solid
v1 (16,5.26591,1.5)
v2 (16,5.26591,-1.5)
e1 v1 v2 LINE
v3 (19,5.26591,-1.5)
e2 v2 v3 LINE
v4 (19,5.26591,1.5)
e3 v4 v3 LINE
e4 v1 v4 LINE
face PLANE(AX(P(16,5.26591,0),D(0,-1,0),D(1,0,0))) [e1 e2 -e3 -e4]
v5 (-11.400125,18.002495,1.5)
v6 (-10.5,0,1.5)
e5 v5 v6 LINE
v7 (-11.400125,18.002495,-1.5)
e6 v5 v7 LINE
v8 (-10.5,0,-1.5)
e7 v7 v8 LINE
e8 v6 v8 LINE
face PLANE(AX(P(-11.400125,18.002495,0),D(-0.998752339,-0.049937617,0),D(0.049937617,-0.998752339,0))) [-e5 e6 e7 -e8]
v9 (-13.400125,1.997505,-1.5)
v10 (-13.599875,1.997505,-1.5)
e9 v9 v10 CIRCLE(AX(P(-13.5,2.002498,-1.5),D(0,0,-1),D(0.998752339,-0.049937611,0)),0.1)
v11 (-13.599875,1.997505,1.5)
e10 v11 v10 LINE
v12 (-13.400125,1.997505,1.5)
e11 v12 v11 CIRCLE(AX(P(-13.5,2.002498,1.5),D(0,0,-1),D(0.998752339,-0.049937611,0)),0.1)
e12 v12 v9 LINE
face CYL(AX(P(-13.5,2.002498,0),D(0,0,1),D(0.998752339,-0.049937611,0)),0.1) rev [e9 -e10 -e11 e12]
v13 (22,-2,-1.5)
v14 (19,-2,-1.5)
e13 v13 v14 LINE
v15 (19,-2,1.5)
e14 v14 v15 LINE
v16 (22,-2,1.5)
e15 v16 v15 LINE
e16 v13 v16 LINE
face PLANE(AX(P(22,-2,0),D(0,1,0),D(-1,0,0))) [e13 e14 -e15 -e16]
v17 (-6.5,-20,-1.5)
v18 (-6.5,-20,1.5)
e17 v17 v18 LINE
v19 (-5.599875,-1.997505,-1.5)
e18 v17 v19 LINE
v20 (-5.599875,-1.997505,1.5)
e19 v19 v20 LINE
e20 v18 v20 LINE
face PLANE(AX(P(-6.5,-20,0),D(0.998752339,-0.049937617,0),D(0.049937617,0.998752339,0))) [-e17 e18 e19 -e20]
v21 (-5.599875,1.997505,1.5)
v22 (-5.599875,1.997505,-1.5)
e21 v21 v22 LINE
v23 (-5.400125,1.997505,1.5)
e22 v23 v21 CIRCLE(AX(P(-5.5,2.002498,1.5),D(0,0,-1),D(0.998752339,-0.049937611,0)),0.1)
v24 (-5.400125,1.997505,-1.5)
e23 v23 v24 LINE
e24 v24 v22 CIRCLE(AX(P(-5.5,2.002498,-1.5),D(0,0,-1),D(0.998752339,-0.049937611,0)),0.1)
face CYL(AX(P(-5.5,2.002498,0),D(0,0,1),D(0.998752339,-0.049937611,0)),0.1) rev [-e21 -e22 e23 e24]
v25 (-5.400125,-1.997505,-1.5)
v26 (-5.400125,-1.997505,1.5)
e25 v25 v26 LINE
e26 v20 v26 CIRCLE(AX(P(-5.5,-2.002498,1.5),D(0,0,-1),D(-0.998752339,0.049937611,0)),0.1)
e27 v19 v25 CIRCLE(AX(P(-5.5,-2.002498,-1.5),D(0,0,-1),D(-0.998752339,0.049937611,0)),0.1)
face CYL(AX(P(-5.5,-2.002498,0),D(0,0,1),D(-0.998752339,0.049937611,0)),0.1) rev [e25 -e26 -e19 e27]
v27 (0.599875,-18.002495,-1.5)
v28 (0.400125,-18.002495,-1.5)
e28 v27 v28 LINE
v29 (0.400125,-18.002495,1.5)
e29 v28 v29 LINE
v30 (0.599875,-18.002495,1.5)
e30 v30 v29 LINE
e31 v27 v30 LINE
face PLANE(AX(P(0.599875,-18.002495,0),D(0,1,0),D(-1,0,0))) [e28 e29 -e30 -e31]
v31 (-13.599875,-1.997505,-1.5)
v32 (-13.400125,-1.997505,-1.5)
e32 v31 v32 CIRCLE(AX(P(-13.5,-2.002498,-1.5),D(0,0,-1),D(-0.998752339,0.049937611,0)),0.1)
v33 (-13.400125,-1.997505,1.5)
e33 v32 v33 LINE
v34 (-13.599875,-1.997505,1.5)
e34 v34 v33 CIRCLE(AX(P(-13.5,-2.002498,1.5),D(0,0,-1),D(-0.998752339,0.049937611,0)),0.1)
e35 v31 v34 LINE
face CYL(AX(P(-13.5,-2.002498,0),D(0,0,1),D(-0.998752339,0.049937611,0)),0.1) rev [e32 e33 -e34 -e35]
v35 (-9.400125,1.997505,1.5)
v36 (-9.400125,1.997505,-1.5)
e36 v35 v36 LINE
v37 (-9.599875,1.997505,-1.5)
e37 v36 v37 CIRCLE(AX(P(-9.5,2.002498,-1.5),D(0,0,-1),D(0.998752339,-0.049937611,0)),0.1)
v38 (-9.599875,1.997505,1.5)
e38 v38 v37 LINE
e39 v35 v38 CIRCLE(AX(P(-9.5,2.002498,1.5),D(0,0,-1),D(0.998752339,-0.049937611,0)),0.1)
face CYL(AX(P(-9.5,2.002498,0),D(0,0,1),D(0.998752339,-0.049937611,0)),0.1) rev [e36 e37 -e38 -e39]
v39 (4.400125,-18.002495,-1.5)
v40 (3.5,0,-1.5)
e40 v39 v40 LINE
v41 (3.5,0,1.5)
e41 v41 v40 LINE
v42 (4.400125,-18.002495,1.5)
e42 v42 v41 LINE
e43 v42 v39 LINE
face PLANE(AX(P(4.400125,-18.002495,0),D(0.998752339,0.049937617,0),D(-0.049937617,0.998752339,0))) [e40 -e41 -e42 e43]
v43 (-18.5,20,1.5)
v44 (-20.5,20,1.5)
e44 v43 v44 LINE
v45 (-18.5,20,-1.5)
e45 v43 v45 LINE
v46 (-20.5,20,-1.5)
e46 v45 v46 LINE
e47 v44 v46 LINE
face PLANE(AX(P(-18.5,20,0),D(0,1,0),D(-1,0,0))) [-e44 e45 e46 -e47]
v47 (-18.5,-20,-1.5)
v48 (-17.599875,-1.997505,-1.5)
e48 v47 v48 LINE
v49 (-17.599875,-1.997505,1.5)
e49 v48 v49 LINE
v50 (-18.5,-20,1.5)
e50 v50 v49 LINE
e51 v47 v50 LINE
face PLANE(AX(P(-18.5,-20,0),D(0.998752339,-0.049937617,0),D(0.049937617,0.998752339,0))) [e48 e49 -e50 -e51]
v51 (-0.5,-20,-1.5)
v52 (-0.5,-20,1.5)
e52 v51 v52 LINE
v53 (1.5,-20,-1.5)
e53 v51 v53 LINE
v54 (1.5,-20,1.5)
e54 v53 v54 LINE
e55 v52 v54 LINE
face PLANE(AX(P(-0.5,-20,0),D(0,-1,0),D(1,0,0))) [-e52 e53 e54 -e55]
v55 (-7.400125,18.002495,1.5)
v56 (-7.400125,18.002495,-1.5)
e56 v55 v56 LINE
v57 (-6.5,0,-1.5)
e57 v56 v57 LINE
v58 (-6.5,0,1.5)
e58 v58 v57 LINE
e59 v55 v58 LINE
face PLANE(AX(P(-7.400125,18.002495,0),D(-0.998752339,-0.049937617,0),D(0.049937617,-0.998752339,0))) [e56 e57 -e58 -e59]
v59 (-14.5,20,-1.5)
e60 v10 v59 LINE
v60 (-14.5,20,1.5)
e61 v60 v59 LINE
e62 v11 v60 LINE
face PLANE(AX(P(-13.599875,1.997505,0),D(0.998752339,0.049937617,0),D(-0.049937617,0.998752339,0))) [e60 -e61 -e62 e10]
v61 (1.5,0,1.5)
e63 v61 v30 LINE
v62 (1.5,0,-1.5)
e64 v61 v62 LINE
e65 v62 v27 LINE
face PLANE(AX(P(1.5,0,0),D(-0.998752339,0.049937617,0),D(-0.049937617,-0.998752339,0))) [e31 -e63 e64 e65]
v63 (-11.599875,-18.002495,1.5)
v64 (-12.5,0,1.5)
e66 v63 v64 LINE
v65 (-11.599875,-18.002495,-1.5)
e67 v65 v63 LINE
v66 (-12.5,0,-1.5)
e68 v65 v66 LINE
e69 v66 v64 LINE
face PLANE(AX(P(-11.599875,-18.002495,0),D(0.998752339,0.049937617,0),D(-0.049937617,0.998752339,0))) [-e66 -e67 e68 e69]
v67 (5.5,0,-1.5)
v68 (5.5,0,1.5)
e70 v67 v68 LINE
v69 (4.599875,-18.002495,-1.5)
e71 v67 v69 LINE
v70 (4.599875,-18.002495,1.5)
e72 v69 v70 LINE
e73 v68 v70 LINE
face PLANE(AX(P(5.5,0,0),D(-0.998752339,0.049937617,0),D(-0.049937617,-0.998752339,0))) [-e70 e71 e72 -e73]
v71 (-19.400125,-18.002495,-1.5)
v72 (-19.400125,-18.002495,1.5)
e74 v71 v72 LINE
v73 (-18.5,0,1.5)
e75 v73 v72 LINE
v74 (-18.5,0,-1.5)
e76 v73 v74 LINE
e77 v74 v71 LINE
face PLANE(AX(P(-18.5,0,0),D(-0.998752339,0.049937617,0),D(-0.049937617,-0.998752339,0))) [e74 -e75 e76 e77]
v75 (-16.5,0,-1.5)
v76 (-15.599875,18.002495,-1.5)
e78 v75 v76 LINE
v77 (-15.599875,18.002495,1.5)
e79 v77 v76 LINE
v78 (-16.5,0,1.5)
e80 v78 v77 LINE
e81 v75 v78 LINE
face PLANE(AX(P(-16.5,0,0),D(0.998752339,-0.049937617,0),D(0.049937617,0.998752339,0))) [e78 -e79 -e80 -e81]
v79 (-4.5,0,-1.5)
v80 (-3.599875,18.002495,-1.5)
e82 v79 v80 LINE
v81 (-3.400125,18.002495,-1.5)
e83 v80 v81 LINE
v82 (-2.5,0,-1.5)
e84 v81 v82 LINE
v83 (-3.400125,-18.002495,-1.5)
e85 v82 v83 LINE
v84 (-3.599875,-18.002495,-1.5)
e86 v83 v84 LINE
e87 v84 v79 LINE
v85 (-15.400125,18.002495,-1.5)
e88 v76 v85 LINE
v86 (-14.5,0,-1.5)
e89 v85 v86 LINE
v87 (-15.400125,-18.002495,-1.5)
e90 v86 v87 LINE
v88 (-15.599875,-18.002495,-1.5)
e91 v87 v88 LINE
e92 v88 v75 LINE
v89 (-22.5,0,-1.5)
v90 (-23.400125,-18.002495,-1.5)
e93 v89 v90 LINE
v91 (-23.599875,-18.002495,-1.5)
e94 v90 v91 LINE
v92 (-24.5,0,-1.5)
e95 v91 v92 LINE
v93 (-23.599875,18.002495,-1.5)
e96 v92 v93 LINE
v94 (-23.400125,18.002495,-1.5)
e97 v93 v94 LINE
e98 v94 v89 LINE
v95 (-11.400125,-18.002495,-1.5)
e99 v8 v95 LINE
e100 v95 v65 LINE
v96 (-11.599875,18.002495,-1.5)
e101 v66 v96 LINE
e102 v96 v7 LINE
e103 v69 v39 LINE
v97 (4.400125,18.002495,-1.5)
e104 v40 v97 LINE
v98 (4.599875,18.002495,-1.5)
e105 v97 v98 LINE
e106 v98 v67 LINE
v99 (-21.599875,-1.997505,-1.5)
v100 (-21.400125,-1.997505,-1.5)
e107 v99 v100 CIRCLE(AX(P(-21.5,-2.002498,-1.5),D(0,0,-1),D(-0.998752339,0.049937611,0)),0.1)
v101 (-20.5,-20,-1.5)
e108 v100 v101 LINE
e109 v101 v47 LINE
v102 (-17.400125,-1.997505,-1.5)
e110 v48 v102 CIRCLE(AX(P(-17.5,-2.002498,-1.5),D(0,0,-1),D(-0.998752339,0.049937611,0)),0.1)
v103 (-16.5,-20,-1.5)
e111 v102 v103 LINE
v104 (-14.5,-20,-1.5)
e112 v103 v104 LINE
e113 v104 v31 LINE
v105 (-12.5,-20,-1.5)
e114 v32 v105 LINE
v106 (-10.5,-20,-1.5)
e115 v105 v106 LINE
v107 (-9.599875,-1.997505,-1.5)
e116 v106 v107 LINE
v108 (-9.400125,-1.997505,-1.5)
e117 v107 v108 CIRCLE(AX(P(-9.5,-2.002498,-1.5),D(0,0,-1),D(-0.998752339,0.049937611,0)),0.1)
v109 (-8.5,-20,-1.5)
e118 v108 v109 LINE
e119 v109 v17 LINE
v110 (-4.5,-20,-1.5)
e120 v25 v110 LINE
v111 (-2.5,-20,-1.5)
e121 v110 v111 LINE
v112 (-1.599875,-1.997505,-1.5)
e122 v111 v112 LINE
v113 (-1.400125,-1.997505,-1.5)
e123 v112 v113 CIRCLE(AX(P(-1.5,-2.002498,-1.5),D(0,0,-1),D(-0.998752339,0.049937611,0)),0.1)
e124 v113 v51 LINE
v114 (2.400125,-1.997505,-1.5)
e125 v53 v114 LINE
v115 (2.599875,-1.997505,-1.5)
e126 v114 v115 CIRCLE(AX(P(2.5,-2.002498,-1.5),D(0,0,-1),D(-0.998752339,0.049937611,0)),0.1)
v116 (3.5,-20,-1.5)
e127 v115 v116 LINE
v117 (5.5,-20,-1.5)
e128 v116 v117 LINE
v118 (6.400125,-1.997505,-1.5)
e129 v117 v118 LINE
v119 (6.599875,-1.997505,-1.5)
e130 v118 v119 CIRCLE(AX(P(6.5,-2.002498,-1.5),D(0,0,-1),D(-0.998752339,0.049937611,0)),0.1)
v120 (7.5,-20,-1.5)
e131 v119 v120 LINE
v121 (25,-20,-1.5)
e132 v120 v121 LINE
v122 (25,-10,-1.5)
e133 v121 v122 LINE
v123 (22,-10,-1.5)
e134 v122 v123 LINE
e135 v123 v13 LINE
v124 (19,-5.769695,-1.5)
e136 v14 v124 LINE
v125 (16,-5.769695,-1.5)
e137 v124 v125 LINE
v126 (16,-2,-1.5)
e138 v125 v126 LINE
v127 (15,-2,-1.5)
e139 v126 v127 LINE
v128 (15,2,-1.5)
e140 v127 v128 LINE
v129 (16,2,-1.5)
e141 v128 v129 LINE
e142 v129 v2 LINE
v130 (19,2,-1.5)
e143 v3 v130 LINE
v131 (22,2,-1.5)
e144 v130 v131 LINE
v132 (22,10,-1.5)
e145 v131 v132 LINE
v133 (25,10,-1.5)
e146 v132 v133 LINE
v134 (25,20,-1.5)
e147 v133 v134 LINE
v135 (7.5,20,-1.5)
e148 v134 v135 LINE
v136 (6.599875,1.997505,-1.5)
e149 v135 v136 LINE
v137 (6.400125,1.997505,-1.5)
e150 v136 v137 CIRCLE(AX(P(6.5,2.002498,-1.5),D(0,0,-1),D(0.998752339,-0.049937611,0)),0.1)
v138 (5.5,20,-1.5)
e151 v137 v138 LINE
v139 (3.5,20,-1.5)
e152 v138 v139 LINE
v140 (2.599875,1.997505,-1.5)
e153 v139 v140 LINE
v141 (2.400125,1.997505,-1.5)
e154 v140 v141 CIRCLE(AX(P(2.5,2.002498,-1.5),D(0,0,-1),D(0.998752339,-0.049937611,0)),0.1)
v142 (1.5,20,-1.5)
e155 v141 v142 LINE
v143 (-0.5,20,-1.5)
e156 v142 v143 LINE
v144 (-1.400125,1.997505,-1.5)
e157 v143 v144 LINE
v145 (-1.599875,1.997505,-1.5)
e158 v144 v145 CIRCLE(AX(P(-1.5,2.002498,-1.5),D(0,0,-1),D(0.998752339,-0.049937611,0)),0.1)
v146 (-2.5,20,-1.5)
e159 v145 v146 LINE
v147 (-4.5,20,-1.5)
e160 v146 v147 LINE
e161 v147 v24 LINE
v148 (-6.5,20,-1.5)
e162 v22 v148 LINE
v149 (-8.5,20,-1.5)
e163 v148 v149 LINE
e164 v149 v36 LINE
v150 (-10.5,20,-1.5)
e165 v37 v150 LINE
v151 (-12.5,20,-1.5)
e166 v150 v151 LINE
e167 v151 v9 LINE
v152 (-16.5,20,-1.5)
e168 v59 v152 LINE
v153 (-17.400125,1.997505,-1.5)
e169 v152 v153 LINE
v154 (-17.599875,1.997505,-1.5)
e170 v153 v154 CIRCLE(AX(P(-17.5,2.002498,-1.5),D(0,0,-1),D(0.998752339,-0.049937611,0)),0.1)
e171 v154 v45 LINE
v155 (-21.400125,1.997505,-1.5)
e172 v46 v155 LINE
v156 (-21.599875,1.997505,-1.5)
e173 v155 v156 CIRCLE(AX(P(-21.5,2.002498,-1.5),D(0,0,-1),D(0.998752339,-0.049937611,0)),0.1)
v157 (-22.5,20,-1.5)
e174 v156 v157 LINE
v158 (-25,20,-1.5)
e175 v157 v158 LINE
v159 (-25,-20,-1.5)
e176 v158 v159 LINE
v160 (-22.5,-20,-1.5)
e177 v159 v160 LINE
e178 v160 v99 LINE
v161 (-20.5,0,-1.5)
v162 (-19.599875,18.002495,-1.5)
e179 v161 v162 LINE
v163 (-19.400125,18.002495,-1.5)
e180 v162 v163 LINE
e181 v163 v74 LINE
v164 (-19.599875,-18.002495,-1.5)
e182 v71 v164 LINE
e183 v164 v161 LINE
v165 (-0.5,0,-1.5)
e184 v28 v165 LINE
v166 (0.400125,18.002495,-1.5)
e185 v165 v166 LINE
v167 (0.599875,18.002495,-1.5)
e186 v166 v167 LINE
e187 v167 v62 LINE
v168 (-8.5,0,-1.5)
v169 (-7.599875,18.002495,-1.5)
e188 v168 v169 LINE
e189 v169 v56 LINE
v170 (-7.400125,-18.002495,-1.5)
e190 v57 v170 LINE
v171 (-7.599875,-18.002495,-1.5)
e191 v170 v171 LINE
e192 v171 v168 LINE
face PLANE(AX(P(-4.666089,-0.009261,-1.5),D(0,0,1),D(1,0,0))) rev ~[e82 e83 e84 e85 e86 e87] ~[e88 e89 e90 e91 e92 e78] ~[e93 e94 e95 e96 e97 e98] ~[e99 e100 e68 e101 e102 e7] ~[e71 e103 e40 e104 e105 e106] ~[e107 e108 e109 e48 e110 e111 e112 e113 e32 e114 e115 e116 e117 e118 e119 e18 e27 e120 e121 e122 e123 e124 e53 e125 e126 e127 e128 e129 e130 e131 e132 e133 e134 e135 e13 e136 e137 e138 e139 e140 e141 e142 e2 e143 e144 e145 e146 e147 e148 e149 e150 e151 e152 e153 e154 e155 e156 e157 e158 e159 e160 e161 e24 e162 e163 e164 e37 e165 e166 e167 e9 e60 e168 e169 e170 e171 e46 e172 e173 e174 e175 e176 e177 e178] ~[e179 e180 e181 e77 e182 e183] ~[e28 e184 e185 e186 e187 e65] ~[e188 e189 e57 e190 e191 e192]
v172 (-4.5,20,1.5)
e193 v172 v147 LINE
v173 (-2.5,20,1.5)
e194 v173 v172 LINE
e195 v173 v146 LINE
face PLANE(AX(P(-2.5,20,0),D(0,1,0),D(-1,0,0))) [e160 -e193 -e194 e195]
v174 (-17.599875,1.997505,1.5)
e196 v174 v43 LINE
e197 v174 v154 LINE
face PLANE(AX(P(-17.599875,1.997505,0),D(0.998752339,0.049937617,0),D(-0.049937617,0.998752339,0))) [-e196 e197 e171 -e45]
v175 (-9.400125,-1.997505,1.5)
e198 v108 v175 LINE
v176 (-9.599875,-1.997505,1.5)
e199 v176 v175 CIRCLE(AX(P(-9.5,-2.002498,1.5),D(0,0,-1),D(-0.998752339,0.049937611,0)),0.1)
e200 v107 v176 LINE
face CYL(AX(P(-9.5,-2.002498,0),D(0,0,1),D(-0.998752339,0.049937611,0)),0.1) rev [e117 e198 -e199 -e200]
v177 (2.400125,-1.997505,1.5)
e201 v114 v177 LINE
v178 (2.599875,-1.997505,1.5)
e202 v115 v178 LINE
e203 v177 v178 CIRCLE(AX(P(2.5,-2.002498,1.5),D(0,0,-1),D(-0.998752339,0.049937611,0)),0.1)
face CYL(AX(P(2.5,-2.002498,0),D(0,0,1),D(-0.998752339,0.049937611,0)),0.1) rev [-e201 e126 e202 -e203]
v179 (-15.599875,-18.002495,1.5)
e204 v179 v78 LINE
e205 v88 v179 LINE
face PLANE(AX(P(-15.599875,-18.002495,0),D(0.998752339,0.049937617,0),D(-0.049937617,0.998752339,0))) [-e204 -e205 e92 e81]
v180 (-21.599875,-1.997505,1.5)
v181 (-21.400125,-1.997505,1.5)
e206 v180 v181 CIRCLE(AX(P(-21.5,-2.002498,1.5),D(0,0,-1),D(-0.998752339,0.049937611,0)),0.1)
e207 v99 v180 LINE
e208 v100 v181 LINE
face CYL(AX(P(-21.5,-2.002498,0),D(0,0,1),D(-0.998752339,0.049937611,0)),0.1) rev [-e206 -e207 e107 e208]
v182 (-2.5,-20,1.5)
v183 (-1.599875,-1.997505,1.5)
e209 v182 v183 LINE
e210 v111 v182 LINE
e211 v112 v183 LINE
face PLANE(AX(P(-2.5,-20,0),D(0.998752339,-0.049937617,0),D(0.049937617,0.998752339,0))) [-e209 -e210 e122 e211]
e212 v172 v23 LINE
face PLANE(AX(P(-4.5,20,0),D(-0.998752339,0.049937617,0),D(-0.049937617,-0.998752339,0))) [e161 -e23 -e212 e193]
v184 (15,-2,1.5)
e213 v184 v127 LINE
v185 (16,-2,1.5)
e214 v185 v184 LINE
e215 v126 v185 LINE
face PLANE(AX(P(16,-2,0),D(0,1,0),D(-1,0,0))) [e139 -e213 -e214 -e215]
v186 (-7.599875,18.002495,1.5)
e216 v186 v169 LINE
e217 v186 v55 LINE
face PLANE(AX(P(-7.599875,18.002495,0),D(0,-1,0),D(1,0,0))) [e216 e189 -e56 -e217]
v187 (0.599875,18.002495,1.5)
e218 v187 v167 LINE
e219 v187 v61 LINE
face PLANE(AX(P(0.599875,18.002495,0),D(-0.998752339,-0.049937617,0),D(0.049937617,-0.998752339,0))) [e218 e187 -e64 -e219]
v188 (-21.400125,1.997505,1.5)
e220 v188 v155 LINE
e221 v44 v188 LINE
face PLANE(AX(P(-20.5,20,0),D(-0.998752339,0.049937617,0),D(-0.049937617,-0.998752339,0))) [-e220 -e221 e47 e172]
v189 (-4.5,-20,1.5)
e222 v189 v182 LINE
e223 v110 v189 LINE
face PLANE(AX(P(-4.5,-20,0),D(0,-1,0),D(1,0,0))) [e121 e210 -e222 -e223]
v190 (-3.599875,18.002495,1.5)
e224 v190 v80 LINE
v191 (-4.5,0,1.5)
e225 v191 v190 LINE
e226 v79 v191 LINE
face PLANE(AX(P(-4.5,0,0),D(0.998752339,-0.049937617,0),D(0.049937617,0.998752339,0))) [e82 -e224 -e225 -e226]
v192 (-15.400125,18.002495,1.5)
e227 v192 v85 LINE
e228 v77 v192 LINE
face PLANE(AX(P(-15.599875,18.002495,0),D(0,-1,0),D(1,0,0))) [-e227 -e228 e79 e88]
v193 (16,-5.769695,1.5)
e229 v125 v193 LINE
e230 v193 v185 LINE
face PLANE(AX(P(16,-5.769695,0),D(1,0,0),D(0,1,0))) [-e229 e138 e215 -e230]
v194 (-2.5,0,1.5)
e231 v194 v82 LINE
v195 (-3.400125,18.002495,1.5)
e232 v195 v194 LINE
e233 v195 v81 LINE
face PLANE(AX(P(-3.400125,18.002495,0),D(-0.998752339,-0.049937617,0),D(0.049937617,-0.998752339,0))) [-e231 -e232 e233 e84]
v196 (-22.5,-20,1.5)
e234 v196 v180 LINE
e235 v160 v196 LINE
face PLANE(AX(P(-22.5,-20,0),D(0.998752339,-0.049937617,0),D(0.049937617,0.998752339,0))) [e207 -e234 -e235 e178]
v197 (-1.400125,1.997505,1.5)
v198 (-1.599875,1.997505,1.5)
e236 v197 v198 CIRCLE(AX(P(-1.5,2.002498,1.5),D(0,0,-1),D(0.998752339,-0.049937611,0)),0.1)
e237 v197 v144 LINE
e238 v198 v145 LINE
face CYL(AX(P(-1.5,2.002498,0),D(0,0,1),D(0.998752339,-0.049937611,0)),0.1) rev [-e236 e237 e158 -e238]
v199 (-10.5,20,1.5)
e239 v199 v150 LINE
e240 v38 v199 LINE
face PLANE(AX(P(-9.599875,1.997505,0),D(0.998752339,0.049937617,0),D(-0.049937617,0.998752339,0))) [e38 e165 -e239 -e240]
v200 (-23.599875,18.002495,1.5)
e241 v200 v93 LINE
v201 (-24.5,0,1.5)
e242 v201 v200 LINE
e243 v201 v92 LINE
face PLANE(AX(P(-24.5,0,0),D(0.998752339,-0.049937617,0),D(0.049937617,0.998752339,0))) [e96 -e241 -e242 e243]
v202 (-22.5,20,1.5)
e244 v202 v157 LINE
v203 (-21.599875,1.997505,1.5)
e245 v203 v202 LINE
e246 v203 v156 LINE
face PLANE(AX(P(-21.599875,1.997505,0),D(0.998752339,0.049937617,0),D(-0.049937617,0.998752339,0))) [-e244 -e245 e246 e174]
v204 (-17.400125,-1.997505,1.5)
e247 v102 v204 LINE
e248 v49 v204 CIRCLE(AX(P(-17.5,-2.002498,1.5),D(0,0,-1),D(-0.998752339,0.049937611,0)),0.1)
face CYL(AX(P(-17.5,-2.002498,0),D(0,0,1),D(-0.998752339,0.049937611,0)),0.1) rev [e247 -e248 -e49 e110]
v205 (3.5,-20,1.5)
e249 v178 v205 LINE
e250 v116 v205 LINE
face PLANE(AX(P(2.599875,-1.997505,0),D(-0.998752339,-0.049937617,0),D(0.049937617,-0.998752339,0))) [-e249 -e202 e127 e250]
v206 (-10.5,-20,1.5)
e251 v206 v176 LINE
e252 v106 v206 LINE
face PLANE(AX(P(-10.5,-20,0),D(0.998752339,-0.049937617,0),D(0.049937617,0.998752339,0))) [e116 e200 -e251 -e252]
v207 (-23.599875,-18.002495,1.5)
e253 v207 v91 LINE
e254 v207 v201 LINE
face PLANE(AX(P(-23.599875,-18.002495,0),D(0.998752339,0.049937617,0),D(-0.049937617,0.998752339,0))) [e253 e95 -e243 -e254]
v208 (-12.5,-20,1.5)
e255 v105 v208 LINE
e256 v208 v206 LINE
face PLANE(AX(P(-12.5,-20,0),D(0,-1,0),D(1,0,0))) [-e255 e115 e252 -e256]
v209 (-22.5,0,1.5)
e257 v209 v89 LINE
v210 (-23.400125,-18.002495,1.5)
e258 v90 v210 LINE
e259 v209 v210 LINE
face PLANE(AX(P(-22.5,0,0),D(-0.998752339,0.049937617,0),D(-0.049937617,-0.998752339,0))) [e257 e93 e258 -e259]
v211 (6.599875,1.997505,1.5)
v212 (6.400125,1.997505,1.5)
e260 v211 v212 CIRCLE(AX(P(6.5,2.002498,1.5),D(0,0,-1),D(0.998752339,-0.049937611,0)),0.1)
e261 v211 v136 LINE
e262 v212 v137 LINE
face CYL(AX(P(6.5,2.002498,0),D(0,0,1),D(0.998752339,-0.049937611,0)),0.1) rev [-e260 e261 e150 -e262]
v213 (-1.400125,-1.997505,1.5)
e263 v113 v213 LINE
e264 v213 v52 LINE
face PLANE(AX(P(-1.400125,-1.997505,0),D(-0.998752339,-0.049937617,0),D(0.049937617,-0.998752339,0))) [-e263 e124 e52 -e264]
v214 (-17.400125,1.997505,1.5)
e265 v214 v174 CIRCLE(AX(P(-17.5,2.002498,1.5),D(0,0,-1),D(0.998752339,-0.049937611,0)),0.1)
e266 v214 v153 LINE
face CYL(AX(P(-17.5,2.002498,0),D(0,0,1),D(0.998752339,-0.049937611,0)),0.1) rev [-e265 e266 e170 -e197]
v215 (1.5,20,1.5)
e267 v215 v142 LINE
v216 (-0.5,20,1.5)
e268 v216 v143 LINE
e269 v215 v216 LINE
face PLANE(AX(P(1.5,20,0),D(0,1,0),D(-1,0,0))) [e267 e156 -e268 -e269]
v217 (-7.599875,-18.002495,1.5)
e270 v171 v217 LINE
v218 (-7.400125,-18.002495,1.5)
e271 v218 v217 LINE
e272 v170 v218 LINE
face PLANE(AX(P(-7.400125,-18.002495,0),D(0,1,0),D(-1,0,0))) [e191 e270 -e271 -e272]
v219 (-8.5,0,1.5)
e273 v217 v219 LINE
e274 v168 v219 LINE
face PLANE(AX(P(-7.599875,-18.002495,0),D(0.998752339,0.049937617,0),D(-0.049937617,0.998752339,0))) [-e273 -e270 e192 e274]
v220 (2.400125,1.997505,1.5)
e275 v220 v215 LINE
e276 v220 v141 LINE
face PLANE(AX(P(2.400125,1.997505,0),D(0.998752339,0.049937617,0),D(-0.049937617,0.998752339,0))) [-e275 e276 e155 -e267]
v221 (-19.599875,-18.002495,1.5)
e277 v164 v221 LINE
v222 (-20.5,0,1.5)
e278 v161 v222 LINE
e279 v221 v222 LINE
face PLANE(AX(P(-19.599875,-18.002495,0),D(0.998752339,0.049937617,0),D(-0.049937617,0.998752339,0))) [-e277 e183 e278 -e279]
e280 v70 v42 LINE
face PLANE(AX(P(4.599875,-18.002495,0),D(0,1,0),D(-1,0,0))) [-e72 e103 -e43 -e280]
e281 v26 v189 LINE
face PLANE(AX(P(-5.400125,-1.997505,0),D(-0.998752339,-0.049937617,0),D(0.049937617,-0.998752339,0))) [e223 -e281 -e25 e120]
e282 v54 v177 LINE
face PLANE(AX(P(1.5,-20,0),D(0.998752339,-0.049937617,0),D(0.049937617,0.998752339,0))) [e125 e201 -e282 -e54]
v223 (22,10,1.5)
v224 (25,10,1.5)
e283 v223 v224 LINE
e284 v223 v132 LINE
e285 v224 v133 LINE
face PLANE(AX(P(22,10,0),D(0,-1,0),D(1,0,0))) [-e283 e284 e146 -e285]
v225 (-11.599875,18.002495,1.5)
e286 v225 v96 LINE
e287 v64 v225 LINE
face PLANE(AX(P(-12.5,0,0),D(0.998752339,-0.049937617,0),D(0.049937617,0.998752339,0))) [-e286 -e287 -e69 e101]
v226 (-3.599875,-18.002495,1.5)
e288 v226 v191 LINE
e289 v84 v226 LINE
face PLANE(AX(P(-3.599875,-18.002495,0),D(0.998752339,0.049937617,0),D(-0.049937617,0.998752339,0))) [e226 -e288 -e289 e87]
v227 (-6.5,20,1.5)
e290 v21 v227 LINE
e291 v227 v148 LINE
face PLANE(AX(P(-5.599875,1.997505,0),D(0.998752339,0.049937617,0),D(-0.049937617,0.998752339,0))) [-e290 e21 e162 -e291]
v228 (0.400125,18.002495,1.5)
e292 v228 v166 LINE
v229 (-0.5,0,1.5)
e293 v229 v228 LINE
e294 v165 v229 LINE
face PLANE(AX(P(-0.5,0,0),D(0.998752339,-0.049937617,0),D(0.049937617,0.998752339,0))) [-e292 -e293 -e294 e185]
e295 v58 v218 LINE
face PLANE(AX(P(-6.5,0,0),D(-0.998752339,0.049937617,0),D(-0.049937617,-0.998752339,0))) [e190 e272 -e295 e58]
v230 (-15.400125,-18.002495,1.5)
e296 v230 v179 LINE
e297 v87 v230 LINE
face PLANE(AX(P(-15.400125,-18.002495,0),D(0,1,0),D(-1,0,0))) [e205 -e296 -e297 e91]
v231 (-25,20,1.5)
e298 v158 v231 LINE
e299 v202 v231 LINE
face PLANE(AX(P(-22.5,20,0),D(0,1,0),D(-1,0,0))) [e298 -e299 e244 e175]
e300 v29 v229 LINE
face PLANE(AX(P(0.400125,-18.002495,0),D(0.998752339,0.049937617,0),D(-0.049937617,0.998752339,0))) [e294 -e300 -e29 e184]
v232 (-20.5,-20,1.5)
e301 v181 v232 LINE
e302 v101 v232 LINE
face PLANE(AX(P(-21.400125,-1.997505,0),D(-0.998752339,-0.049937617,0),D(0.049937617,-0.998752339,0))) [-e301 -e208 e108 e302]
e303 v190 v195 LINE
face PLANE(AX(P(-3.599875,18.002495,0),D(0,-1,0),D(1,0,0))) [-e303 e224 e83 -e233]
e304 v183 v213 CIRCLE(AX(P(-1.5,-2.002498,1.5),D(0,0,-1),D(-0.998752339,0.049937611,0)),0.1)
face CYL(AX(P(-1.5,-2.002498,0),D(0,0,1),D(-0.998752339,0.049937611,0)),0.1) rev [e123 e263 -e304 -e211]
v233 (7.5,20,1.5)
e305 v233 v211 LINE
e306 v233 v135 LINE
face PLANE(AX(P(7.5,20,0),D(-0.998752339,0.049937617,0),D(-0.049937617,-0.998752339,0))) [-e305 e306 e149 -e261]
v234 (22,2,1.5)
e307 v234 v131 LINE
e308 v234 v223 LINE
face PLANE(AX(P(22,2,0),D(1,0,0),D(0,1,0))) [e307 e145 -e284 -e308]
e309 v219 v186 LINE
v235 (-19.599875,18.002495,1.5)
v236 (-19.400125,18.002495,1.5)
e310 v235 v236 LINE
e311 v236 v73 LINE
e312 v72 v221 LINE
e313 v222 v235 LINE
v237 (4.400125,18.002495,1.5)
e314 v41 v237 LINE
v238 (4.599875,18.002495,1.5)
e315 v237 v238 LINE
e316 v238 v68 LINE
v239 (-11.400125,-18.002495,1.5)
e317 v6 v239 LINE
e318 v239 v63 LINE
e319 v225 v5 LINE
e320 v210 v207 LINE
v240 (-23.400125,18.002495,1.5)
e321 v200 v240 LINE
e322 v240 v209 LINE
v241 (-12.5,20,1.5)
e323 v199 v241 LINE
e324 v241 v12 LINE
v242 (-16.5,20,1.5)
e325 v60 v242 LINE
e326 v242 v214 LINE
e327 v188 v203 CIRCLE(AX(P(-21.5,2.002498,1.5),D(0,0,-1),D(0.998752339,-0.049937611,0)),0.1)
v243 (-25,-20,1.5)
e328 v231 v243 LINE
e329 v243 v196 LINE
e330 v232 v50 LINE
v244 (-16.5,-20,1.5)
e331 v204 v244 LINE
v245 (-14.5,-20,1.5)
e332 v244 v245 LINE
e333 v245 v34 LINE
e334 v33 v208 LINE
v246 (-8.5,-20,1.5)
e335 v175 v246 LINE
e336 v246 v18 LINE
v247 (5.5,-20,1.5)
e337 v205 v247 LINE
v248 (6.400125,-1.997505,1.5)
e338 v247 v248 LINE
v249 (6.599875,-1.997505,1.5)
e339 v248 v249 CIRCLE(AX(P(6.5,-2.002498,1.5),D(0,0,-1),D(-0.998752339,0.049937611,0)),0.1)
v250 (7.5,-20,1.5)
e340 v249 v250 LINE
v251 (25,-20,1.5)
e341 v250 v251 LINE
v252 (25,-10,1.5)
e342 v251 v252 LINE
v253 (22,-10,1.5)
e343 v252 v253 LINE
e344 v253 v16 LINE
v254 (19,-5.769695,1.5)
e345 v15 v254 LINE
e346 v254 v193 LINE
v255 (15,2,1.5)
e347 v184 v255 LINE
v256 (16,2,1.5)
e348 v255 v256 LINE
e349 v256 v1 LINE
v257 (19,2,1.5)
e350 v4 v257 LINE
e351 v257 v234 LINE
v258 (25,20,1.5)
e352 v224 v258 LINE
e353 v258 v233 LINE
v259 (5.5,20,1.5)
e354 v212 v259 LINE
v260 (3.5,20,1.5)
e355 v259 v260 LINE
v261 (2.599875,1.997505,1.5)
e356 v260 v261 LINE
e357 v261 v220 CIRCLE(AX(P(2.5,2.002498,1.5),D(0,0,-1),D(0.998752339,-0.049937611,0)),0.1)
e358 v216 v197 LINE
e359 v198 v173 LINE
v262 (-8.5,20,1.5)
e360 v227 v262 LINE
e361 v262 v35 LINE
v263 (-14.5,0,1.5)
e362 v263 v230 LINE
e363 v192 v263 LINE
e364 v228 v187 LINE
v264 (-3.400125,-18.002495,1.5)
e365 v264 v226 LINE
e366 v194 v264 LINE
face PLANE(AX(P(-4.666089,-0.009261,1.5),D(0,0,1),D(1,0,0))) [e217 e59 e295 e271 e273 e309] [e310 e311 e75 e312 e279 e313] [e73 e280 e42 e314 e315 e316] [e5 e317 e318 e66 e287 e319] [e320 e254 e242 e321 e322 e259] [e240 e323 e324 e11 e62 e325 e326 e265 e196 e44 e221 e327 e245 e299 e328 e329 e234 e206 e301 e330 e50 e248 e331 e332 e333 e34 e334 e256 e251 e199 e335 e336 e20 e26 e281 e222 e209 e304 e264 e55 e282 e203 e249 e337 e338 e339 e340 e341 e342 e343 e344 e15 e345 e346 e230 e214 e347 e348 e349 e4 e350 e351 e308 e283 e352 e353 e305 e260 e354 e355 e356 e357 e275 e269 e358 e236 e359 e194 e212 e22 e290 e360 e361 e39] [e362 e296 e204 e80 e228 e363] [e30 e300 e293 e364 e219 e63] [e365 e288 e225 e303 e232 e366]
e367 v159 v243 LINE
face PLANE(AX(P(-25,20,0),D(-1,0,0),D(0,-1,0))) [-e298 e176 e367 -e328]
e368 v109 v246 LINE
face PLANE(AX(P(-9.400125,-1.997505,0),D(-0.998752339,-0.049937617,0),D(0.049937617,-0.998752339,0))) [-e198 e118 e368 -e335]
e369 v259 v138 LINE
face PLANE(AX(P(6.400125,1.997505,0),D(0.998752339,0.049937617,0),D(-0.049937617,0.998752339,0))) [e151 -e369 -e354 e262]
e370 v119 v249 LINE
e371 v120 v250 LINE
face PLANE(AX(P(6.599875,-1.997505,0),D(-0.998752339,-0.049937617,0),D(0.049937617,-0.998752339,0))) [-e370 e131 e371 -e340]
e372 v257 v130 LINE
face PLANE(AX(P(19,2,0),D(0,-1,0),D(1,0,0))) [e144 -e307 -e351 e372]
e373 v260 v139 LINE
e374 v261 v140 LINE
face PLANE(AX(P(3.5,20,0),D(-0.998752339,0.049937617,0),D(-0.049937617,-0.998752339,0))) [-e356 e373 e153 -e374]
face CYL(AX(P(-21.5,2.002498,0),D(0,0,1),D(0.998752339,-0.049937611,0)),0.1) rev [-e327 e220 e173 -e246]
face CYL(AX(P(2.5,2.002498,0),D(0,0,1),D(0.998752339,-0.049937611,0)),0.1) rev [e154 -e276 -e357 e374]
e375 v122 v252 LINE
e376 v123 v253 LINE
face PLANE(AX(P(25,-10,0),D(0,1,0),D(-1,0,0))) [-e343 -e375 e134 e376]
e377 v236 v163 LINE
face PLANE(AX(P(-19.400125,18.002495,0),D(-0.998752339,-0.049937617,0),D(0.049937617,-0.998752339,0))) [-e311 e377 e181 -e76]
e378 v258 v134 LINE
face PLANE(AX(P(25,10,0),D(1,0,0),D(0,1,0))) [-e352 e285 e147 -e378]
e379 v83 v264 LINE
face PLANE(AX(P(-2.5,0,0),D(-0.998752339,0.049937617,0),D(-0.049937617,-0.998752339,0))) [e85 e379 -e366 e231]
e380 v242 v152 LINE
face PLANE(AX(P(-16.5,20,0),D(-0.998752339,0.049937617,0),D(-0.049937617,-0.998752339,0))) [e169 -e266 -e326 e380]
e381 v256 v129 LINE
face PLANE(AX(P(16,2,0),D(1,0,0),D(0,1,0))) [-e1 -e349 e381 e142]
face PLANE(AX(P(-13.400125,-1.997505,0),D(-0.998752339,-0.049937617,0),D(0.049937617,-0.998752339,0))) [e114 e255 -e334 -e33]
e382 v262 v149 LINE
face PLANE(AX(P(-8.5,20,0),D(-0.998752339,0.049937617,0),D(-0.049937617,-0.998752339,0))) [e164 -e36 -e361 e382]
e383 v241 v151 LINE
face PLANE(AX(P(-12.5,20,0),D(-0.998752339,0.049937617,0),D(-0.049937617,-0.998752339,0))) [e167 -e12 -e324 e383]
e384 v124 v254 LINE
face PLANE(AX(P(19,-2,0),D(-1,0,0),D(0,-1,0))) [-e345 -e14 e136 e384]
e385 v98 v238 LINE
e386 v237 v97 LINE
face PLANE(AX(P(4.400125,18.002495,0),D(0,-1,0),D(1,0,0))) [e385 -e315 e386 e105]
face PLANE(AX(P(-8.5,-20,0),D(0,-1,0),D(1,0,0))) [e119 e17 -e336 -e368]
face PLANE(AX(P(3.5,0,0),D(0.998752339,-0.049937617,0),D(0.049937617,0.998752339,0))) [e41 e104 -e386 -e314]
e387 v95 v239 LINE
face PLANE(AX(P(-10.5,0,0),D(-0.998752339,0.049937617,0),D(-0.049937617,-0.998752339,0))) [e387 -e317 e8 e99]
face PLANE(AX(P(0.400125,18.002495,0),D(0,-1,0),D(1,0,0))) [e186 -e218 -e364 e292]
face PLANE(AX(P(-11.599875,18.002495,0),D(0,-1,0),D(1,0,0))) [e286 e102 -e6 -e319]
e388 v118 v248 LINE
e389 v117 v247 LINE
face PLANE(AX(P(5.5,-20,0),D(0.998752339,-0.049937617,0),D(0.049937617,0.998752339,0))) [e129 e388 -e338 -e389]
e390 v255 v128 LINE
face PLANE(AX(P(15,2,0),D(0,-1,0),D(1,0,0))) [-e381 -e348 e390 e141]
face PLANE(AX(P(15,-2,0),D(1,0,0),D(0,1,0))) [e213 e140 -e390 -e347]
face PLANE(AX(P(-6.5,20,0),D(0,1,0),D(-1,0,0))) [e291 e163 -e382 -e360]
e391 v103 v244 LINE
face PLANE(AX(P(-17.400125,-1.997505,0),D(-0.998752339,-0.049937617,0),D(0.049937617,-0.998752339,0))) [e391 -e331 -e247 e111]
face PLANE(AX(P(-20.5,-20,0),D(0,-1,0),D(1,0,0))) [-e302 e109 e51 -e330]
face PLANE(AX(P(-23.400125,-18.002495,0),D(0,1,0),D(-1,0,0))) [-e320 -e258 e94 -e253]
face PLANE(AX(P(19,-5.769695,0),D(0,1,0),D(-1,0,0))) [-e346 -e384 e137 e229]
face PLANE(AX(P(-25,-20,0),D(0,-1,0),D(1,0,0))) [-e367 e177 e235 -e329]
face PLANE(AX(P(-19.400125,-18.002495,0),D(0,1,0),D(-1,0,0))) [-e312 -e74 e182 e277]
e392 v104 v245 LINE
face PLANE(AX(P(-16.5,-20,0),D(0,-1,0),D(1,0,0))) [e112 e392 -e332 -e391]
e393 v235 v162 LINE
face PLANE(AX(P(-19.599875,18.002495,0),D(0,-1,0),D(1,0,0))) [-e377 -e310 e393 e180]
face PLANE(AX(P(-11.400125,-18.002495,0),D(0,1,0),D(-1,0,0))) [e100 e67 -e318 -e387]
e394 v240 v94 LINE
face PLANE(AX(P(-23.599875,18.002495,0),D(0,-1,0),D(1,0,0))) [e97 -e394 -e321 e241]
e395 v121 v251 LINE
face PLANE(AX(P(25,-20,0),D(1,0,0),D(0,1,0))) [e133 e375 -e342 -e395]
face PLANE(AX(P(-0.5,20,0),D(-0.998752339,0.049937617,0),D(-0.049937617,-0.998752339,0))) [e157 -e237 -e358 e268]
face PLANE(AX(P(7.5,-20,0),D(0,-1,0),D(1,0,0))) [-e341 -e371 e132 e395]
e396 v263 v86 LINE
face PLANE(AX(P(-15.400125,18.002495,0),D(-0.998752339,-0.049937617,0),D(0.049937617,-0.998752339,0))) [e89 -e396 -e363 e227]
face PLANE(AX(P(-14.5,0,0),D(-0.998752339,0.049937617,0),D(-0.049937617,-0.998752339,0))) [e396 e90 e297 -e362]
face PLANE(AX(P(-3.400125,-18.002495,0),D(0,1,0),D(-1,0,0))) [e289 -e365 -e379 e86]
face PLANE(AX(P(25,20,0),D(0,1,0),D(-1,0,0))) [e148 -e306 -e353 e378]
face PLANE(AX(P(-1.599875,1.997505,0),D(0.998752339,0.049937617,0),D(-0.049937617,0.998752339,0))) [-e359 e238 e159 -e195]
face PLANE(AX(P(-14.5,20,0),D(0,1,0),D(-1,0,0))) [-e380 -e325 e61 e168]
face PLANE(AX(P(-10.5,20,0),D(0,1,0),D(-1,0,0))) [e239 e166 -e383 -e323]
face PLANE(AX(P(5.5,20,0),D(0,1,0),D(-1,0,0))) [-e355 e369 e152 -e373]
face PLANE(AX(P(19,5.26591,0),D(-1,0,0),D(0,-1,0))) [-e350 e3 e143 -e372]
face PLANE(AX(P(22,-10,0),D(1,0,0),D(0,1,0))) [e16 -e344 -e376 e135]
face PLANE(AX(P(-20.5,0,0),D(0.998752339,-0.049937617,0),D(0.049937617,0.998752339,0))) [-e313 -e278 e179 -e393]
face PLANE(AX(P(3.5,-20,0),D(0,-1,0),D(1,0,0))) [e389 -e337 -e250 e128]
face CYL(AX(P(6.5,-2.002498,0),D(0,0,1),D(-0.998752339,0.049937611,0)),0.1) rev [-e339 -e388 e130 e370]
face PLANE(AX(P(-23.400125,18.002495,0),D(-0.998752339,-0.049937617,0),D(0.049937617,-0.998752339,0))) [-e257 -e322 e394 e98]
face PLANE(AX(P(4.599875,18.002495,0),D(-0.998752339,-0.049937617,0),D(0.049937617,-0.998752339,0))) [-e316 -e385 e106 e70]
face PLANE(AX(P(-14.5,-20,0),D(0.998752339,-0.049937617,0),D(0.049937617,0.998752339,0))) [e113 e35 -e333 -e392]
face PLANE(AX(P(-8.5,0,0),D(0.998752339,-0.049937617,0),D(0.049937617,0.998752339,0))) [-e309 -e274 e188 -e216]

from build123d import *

# Parameters (mm, degrees)
EXTRUDE_1_DEPTH = 1.5


with BuildPart() as part:
    # 草图1 → 凸台-拉伸1 (new body, symmetric)
    with BuildSketch(Plane.XY):
        with BuildLine():
            Line((-22.5, 20), (-25, 20))
            Line((-25, 20), (-25, -20))
            Line((-25, -20), (-22.5, -20))
            Line((-22.5, -20), (-21.599875234, -1.997504678))
            ThreePointArc((-21.599875234, -1.997504678), (-21.5, -1.902498439), (-21.400124766, -1.997504678))
            Line((-21.400124766, -1.997504678), (-20.5, -20))
            Line((-20.5, -20), (-18.5, -20))
            Line((-18.5, -20), (-17.599875234, -1.997504678))
            ThreePointArc((-17.599875234, -1.997504678), (-17.5, -1.902498439), (-17.400124766, -1.997504678))
            Line((-17.400124766, -1.997504678), (-16.5, -20))
            Line((-16.5, -20), (-14.5, -20))
            Line((-14.5, -20), (-13.599875234, -1.997504678))
            ThreePointArc((-13.599875234, -1.997504678), (-13.5, -1.902498439), (-13.400124766, -1.997504678))
            Line((-13.400124766, -1.997504678), (-12.5, -20))
            Line((-12.5, -20), (-10.5, -20))
            Line((-10.5, -20), (-9.599875234, -1.997504678))
            ThreePointArc((-9.599875234, -1.997504678), (-9.5, -1.902498439), (-9.400124766, -1.997504678))
            Line((-9.400124766, -1.997504678), (-8.5, -20))
            Line((-8.5, -20), (-6.5, -20))
            Line((-6.5, -20), (-5.599875234, -1.997504678))
            ThreePointArc((-5.599875234, -1.997504678), (-5.5, -1.902498439), (-5.400124766, -1.997504678))
            Line((-5.400124766, -1.997504678), (-4.5, -20))
            Line((-4.5, -20), (-2.5, -20))
            Line((-2.5, -20), (-1.599875234, -1.997504678))
            ThreePointArc((-1.599875234, -1.997504678), (-1.5, -1.902498439), (-1.400124766, -1.997504678))
            Line((-1.400124766, -1.997504678), (-0.5, -20))
            Line((-0.5, -20), (1.5, -20))
            Line((1.5, -20), (2.400124766, -1.997504678))
            ThreePointArc((2.400124766, -1.997504678), (2.5, -1.902498439), (2.599875234, -1.997504678))
            Line((2.599875234, -1.997504678), (3.5, -20))
            Line((3.5, -20), (5.5, -20))
            Line((5.5, -20), (6.400124766, -1.997504678))
            ThreePointArc((6.400124766, -1.997504678), (6.5, -1.902498439), (6.599875234, -1.997504678))
            Line((6.599875234, -1.997504678), (7.5, -20))
            Line((7.5, -20), (25, -20))
            Line((25, -20), (25, -10))
            Line((25, -10), (22, -10))
            Line((22, -10), (22, -2))
            Line((22, -2), (19, -2))
            Line((19, -2), (19, -5.769694942))
            Line((19, -5.769694942), (16, -5.769694942))
            Line((16, -5.769694942), (16, -2))
            Line((16, -2), (15, -2))
            Line((15, -2), (15, 2))
            Line((15, 2), (16, 2))
            Line((16, 2), (16, 5.265909841))
            Line((16, 5.265909841), (19, 5.265909841))
            Line((19, 5.265909841), (19, 2))
            Line((19, 2), (22, 2))
            Line((22, 2), (22, 10))
            Line((22, 10), (25, 10))
            Line((25, 10), (25, 20))
            Line((25, 20), (7.5, 20))
            Line((7.5, 20), (6.599875234, 1.997504678))
            ThreePointArc((6.599875234, 1.997504678), (6.5, 1.902498439), (6.400124766, 1.997504678))
            Line((6.400124766, 1.997504678), (5.5, 20))
            Line((5.5, 20), (3.5, 20))
            Line((3.5, 20), (2.599875234, 1.997504678))
            ThreePointArc((2.599875234, 1.997504678), (2.5, 1.902498439), (2.400124766, 1.997504678))
            Line((2.400124766, 1.997504678), (1.5, 20))
            Line((1.5, 20), (-0.5, 20))
            Line((-0.5, 20), (-1.400124766, 1.997504678))
            ThreePointArc((-1.400124766, 1.997504678), (-1.5, 1.902498439), (-1.599875234, 1.997504678))
            Line((-1.599875234, 1.997504678), (-2.5, 20))
            Line((-2.5, 20), (-4.5, 20))
            Line((-4.5, 20), (-5.400124766, 1.997504678))
            ThreePointArc((-5.400124766, 1.997504678), (-5.5, 1.902498439), (-5.599875234, 1.997504678))
            Line((-5.599875234, 1.997504678), (-6.5, 20))
            Line((-6.5, 20), (-8.5, 20))
            Line((-8.5, 20), (-9.400124766, 1.997504678))
            ThreePointArc((-9.400124766, 1.997504678), (-9.5, 1.902498439), (-9.599875234, 1.997504678))
            Line((-9.599875234, 1.997504678), (-10.5, 20))
            Line((-10.5, 20), (-12.5, 20))
            Line((-12.5, 20), (-13.400124766, 1.997504678))
            ThreePointArc((-13.400124766, 1.997504678), (-13.5, 1.902498439), (-13.599875234, 1.997504678))
            Line((-13.599875234, 1.997504678), (-14.5, 20))
            Line((-14.5, 20), (-16.5, 20))
            Line((-16.5, 20), (-17.400124766, 1.997504678))
            ThreePointArc((-17.400124766, 1.997504678), (-17.5, 1.902498439), (-17.599875234, 1.997504678))
            Line((-17.599875234, 1.997504678), (-18.5, 20))
            Line((-18.5, 20), (-20.5, 20))
            Line((-20.5, 20), (-21.400124766, 1.997504678))
            ThreePointArc((-21.400124766, 1.997504678), (-21.5, 1.902498439), (-21.599875234, 1.997504678))
            Line((-21.599875234, 1.997504678), (-22.5, 20))
        make_face()
        Polygon((4.599875234, 18.002495322), (5.5, 0), (4.599875234, -18.002495322), (4.400124766, -18.002495322), (3.5, 0), (4.400124766, 18.002495322), align=None, mode=Mode.SUBTRACT)
        Polygon((0.599875234, -18.002495322), (0.400124766, -18.002495322), (-0.5, 0), (0.400124766, 18.002495322), (0.599875234, 18.002495322), (1.5, 0), align=None, mode=Mode.SUBTRACT)
        Polygon((-3.400124766, -18.002495322), (-3.599875234, -18.002495322), (-4.5, 0), (-3.599875234, 18.002495322), (-3.400124766, 18.002495322), (-2.5, 0), align=None, mode=Mode.SUBTRACT)
        Polygon((-7.400124766, -18.002495322), (-7.599875234, -18.002495322), (-8.5, 0), (-7.599875234, 18.002495322), (-7.400124766, 18.002495322), (-6.5, 0), align=None, mode=Mode.SUBTRACT)
        Polygon((-11.400124766, -18.002495322), (-11.599875234, -18.002495322), (-12.5, 0), (-11.599875234, 18.002495322), (-11.400124766, 18.002495322), (-10.5, 0), align=None, mode=Mode.SUBTRACT)
        Polygon((-15.400124766, -18.002495322), (-15.599875234, -18.002495322), (-16.5, 0), (-15.599875234, 18.002495322), (-15.400124766, 18.002495322), (-14.5, 0), align=None, mode=Mode.SUBTRACT)
        Polygon((-19.400124766, -18.002495322), (-19.599875234, -18.002495322), (-20.5, 0), (-19.599875234, 18.002495322), (-19.400124766, 18.002495322), (-18.5, 0), align=None, mode=Mode.SUBTRACT)
        Polygon((-23.400124766, -18.002495322), (-23.599875234, -18.002495322), (-24.5, 0), (-23.599875234, 18.002495322), (-23.400124766, 18.002495322), (-22.5, 0), align=None, mode=Mode.SUBTRACT)
    extrude(amount=EXTRUDE_1_DEPTH, both=True)


solid = part.part
